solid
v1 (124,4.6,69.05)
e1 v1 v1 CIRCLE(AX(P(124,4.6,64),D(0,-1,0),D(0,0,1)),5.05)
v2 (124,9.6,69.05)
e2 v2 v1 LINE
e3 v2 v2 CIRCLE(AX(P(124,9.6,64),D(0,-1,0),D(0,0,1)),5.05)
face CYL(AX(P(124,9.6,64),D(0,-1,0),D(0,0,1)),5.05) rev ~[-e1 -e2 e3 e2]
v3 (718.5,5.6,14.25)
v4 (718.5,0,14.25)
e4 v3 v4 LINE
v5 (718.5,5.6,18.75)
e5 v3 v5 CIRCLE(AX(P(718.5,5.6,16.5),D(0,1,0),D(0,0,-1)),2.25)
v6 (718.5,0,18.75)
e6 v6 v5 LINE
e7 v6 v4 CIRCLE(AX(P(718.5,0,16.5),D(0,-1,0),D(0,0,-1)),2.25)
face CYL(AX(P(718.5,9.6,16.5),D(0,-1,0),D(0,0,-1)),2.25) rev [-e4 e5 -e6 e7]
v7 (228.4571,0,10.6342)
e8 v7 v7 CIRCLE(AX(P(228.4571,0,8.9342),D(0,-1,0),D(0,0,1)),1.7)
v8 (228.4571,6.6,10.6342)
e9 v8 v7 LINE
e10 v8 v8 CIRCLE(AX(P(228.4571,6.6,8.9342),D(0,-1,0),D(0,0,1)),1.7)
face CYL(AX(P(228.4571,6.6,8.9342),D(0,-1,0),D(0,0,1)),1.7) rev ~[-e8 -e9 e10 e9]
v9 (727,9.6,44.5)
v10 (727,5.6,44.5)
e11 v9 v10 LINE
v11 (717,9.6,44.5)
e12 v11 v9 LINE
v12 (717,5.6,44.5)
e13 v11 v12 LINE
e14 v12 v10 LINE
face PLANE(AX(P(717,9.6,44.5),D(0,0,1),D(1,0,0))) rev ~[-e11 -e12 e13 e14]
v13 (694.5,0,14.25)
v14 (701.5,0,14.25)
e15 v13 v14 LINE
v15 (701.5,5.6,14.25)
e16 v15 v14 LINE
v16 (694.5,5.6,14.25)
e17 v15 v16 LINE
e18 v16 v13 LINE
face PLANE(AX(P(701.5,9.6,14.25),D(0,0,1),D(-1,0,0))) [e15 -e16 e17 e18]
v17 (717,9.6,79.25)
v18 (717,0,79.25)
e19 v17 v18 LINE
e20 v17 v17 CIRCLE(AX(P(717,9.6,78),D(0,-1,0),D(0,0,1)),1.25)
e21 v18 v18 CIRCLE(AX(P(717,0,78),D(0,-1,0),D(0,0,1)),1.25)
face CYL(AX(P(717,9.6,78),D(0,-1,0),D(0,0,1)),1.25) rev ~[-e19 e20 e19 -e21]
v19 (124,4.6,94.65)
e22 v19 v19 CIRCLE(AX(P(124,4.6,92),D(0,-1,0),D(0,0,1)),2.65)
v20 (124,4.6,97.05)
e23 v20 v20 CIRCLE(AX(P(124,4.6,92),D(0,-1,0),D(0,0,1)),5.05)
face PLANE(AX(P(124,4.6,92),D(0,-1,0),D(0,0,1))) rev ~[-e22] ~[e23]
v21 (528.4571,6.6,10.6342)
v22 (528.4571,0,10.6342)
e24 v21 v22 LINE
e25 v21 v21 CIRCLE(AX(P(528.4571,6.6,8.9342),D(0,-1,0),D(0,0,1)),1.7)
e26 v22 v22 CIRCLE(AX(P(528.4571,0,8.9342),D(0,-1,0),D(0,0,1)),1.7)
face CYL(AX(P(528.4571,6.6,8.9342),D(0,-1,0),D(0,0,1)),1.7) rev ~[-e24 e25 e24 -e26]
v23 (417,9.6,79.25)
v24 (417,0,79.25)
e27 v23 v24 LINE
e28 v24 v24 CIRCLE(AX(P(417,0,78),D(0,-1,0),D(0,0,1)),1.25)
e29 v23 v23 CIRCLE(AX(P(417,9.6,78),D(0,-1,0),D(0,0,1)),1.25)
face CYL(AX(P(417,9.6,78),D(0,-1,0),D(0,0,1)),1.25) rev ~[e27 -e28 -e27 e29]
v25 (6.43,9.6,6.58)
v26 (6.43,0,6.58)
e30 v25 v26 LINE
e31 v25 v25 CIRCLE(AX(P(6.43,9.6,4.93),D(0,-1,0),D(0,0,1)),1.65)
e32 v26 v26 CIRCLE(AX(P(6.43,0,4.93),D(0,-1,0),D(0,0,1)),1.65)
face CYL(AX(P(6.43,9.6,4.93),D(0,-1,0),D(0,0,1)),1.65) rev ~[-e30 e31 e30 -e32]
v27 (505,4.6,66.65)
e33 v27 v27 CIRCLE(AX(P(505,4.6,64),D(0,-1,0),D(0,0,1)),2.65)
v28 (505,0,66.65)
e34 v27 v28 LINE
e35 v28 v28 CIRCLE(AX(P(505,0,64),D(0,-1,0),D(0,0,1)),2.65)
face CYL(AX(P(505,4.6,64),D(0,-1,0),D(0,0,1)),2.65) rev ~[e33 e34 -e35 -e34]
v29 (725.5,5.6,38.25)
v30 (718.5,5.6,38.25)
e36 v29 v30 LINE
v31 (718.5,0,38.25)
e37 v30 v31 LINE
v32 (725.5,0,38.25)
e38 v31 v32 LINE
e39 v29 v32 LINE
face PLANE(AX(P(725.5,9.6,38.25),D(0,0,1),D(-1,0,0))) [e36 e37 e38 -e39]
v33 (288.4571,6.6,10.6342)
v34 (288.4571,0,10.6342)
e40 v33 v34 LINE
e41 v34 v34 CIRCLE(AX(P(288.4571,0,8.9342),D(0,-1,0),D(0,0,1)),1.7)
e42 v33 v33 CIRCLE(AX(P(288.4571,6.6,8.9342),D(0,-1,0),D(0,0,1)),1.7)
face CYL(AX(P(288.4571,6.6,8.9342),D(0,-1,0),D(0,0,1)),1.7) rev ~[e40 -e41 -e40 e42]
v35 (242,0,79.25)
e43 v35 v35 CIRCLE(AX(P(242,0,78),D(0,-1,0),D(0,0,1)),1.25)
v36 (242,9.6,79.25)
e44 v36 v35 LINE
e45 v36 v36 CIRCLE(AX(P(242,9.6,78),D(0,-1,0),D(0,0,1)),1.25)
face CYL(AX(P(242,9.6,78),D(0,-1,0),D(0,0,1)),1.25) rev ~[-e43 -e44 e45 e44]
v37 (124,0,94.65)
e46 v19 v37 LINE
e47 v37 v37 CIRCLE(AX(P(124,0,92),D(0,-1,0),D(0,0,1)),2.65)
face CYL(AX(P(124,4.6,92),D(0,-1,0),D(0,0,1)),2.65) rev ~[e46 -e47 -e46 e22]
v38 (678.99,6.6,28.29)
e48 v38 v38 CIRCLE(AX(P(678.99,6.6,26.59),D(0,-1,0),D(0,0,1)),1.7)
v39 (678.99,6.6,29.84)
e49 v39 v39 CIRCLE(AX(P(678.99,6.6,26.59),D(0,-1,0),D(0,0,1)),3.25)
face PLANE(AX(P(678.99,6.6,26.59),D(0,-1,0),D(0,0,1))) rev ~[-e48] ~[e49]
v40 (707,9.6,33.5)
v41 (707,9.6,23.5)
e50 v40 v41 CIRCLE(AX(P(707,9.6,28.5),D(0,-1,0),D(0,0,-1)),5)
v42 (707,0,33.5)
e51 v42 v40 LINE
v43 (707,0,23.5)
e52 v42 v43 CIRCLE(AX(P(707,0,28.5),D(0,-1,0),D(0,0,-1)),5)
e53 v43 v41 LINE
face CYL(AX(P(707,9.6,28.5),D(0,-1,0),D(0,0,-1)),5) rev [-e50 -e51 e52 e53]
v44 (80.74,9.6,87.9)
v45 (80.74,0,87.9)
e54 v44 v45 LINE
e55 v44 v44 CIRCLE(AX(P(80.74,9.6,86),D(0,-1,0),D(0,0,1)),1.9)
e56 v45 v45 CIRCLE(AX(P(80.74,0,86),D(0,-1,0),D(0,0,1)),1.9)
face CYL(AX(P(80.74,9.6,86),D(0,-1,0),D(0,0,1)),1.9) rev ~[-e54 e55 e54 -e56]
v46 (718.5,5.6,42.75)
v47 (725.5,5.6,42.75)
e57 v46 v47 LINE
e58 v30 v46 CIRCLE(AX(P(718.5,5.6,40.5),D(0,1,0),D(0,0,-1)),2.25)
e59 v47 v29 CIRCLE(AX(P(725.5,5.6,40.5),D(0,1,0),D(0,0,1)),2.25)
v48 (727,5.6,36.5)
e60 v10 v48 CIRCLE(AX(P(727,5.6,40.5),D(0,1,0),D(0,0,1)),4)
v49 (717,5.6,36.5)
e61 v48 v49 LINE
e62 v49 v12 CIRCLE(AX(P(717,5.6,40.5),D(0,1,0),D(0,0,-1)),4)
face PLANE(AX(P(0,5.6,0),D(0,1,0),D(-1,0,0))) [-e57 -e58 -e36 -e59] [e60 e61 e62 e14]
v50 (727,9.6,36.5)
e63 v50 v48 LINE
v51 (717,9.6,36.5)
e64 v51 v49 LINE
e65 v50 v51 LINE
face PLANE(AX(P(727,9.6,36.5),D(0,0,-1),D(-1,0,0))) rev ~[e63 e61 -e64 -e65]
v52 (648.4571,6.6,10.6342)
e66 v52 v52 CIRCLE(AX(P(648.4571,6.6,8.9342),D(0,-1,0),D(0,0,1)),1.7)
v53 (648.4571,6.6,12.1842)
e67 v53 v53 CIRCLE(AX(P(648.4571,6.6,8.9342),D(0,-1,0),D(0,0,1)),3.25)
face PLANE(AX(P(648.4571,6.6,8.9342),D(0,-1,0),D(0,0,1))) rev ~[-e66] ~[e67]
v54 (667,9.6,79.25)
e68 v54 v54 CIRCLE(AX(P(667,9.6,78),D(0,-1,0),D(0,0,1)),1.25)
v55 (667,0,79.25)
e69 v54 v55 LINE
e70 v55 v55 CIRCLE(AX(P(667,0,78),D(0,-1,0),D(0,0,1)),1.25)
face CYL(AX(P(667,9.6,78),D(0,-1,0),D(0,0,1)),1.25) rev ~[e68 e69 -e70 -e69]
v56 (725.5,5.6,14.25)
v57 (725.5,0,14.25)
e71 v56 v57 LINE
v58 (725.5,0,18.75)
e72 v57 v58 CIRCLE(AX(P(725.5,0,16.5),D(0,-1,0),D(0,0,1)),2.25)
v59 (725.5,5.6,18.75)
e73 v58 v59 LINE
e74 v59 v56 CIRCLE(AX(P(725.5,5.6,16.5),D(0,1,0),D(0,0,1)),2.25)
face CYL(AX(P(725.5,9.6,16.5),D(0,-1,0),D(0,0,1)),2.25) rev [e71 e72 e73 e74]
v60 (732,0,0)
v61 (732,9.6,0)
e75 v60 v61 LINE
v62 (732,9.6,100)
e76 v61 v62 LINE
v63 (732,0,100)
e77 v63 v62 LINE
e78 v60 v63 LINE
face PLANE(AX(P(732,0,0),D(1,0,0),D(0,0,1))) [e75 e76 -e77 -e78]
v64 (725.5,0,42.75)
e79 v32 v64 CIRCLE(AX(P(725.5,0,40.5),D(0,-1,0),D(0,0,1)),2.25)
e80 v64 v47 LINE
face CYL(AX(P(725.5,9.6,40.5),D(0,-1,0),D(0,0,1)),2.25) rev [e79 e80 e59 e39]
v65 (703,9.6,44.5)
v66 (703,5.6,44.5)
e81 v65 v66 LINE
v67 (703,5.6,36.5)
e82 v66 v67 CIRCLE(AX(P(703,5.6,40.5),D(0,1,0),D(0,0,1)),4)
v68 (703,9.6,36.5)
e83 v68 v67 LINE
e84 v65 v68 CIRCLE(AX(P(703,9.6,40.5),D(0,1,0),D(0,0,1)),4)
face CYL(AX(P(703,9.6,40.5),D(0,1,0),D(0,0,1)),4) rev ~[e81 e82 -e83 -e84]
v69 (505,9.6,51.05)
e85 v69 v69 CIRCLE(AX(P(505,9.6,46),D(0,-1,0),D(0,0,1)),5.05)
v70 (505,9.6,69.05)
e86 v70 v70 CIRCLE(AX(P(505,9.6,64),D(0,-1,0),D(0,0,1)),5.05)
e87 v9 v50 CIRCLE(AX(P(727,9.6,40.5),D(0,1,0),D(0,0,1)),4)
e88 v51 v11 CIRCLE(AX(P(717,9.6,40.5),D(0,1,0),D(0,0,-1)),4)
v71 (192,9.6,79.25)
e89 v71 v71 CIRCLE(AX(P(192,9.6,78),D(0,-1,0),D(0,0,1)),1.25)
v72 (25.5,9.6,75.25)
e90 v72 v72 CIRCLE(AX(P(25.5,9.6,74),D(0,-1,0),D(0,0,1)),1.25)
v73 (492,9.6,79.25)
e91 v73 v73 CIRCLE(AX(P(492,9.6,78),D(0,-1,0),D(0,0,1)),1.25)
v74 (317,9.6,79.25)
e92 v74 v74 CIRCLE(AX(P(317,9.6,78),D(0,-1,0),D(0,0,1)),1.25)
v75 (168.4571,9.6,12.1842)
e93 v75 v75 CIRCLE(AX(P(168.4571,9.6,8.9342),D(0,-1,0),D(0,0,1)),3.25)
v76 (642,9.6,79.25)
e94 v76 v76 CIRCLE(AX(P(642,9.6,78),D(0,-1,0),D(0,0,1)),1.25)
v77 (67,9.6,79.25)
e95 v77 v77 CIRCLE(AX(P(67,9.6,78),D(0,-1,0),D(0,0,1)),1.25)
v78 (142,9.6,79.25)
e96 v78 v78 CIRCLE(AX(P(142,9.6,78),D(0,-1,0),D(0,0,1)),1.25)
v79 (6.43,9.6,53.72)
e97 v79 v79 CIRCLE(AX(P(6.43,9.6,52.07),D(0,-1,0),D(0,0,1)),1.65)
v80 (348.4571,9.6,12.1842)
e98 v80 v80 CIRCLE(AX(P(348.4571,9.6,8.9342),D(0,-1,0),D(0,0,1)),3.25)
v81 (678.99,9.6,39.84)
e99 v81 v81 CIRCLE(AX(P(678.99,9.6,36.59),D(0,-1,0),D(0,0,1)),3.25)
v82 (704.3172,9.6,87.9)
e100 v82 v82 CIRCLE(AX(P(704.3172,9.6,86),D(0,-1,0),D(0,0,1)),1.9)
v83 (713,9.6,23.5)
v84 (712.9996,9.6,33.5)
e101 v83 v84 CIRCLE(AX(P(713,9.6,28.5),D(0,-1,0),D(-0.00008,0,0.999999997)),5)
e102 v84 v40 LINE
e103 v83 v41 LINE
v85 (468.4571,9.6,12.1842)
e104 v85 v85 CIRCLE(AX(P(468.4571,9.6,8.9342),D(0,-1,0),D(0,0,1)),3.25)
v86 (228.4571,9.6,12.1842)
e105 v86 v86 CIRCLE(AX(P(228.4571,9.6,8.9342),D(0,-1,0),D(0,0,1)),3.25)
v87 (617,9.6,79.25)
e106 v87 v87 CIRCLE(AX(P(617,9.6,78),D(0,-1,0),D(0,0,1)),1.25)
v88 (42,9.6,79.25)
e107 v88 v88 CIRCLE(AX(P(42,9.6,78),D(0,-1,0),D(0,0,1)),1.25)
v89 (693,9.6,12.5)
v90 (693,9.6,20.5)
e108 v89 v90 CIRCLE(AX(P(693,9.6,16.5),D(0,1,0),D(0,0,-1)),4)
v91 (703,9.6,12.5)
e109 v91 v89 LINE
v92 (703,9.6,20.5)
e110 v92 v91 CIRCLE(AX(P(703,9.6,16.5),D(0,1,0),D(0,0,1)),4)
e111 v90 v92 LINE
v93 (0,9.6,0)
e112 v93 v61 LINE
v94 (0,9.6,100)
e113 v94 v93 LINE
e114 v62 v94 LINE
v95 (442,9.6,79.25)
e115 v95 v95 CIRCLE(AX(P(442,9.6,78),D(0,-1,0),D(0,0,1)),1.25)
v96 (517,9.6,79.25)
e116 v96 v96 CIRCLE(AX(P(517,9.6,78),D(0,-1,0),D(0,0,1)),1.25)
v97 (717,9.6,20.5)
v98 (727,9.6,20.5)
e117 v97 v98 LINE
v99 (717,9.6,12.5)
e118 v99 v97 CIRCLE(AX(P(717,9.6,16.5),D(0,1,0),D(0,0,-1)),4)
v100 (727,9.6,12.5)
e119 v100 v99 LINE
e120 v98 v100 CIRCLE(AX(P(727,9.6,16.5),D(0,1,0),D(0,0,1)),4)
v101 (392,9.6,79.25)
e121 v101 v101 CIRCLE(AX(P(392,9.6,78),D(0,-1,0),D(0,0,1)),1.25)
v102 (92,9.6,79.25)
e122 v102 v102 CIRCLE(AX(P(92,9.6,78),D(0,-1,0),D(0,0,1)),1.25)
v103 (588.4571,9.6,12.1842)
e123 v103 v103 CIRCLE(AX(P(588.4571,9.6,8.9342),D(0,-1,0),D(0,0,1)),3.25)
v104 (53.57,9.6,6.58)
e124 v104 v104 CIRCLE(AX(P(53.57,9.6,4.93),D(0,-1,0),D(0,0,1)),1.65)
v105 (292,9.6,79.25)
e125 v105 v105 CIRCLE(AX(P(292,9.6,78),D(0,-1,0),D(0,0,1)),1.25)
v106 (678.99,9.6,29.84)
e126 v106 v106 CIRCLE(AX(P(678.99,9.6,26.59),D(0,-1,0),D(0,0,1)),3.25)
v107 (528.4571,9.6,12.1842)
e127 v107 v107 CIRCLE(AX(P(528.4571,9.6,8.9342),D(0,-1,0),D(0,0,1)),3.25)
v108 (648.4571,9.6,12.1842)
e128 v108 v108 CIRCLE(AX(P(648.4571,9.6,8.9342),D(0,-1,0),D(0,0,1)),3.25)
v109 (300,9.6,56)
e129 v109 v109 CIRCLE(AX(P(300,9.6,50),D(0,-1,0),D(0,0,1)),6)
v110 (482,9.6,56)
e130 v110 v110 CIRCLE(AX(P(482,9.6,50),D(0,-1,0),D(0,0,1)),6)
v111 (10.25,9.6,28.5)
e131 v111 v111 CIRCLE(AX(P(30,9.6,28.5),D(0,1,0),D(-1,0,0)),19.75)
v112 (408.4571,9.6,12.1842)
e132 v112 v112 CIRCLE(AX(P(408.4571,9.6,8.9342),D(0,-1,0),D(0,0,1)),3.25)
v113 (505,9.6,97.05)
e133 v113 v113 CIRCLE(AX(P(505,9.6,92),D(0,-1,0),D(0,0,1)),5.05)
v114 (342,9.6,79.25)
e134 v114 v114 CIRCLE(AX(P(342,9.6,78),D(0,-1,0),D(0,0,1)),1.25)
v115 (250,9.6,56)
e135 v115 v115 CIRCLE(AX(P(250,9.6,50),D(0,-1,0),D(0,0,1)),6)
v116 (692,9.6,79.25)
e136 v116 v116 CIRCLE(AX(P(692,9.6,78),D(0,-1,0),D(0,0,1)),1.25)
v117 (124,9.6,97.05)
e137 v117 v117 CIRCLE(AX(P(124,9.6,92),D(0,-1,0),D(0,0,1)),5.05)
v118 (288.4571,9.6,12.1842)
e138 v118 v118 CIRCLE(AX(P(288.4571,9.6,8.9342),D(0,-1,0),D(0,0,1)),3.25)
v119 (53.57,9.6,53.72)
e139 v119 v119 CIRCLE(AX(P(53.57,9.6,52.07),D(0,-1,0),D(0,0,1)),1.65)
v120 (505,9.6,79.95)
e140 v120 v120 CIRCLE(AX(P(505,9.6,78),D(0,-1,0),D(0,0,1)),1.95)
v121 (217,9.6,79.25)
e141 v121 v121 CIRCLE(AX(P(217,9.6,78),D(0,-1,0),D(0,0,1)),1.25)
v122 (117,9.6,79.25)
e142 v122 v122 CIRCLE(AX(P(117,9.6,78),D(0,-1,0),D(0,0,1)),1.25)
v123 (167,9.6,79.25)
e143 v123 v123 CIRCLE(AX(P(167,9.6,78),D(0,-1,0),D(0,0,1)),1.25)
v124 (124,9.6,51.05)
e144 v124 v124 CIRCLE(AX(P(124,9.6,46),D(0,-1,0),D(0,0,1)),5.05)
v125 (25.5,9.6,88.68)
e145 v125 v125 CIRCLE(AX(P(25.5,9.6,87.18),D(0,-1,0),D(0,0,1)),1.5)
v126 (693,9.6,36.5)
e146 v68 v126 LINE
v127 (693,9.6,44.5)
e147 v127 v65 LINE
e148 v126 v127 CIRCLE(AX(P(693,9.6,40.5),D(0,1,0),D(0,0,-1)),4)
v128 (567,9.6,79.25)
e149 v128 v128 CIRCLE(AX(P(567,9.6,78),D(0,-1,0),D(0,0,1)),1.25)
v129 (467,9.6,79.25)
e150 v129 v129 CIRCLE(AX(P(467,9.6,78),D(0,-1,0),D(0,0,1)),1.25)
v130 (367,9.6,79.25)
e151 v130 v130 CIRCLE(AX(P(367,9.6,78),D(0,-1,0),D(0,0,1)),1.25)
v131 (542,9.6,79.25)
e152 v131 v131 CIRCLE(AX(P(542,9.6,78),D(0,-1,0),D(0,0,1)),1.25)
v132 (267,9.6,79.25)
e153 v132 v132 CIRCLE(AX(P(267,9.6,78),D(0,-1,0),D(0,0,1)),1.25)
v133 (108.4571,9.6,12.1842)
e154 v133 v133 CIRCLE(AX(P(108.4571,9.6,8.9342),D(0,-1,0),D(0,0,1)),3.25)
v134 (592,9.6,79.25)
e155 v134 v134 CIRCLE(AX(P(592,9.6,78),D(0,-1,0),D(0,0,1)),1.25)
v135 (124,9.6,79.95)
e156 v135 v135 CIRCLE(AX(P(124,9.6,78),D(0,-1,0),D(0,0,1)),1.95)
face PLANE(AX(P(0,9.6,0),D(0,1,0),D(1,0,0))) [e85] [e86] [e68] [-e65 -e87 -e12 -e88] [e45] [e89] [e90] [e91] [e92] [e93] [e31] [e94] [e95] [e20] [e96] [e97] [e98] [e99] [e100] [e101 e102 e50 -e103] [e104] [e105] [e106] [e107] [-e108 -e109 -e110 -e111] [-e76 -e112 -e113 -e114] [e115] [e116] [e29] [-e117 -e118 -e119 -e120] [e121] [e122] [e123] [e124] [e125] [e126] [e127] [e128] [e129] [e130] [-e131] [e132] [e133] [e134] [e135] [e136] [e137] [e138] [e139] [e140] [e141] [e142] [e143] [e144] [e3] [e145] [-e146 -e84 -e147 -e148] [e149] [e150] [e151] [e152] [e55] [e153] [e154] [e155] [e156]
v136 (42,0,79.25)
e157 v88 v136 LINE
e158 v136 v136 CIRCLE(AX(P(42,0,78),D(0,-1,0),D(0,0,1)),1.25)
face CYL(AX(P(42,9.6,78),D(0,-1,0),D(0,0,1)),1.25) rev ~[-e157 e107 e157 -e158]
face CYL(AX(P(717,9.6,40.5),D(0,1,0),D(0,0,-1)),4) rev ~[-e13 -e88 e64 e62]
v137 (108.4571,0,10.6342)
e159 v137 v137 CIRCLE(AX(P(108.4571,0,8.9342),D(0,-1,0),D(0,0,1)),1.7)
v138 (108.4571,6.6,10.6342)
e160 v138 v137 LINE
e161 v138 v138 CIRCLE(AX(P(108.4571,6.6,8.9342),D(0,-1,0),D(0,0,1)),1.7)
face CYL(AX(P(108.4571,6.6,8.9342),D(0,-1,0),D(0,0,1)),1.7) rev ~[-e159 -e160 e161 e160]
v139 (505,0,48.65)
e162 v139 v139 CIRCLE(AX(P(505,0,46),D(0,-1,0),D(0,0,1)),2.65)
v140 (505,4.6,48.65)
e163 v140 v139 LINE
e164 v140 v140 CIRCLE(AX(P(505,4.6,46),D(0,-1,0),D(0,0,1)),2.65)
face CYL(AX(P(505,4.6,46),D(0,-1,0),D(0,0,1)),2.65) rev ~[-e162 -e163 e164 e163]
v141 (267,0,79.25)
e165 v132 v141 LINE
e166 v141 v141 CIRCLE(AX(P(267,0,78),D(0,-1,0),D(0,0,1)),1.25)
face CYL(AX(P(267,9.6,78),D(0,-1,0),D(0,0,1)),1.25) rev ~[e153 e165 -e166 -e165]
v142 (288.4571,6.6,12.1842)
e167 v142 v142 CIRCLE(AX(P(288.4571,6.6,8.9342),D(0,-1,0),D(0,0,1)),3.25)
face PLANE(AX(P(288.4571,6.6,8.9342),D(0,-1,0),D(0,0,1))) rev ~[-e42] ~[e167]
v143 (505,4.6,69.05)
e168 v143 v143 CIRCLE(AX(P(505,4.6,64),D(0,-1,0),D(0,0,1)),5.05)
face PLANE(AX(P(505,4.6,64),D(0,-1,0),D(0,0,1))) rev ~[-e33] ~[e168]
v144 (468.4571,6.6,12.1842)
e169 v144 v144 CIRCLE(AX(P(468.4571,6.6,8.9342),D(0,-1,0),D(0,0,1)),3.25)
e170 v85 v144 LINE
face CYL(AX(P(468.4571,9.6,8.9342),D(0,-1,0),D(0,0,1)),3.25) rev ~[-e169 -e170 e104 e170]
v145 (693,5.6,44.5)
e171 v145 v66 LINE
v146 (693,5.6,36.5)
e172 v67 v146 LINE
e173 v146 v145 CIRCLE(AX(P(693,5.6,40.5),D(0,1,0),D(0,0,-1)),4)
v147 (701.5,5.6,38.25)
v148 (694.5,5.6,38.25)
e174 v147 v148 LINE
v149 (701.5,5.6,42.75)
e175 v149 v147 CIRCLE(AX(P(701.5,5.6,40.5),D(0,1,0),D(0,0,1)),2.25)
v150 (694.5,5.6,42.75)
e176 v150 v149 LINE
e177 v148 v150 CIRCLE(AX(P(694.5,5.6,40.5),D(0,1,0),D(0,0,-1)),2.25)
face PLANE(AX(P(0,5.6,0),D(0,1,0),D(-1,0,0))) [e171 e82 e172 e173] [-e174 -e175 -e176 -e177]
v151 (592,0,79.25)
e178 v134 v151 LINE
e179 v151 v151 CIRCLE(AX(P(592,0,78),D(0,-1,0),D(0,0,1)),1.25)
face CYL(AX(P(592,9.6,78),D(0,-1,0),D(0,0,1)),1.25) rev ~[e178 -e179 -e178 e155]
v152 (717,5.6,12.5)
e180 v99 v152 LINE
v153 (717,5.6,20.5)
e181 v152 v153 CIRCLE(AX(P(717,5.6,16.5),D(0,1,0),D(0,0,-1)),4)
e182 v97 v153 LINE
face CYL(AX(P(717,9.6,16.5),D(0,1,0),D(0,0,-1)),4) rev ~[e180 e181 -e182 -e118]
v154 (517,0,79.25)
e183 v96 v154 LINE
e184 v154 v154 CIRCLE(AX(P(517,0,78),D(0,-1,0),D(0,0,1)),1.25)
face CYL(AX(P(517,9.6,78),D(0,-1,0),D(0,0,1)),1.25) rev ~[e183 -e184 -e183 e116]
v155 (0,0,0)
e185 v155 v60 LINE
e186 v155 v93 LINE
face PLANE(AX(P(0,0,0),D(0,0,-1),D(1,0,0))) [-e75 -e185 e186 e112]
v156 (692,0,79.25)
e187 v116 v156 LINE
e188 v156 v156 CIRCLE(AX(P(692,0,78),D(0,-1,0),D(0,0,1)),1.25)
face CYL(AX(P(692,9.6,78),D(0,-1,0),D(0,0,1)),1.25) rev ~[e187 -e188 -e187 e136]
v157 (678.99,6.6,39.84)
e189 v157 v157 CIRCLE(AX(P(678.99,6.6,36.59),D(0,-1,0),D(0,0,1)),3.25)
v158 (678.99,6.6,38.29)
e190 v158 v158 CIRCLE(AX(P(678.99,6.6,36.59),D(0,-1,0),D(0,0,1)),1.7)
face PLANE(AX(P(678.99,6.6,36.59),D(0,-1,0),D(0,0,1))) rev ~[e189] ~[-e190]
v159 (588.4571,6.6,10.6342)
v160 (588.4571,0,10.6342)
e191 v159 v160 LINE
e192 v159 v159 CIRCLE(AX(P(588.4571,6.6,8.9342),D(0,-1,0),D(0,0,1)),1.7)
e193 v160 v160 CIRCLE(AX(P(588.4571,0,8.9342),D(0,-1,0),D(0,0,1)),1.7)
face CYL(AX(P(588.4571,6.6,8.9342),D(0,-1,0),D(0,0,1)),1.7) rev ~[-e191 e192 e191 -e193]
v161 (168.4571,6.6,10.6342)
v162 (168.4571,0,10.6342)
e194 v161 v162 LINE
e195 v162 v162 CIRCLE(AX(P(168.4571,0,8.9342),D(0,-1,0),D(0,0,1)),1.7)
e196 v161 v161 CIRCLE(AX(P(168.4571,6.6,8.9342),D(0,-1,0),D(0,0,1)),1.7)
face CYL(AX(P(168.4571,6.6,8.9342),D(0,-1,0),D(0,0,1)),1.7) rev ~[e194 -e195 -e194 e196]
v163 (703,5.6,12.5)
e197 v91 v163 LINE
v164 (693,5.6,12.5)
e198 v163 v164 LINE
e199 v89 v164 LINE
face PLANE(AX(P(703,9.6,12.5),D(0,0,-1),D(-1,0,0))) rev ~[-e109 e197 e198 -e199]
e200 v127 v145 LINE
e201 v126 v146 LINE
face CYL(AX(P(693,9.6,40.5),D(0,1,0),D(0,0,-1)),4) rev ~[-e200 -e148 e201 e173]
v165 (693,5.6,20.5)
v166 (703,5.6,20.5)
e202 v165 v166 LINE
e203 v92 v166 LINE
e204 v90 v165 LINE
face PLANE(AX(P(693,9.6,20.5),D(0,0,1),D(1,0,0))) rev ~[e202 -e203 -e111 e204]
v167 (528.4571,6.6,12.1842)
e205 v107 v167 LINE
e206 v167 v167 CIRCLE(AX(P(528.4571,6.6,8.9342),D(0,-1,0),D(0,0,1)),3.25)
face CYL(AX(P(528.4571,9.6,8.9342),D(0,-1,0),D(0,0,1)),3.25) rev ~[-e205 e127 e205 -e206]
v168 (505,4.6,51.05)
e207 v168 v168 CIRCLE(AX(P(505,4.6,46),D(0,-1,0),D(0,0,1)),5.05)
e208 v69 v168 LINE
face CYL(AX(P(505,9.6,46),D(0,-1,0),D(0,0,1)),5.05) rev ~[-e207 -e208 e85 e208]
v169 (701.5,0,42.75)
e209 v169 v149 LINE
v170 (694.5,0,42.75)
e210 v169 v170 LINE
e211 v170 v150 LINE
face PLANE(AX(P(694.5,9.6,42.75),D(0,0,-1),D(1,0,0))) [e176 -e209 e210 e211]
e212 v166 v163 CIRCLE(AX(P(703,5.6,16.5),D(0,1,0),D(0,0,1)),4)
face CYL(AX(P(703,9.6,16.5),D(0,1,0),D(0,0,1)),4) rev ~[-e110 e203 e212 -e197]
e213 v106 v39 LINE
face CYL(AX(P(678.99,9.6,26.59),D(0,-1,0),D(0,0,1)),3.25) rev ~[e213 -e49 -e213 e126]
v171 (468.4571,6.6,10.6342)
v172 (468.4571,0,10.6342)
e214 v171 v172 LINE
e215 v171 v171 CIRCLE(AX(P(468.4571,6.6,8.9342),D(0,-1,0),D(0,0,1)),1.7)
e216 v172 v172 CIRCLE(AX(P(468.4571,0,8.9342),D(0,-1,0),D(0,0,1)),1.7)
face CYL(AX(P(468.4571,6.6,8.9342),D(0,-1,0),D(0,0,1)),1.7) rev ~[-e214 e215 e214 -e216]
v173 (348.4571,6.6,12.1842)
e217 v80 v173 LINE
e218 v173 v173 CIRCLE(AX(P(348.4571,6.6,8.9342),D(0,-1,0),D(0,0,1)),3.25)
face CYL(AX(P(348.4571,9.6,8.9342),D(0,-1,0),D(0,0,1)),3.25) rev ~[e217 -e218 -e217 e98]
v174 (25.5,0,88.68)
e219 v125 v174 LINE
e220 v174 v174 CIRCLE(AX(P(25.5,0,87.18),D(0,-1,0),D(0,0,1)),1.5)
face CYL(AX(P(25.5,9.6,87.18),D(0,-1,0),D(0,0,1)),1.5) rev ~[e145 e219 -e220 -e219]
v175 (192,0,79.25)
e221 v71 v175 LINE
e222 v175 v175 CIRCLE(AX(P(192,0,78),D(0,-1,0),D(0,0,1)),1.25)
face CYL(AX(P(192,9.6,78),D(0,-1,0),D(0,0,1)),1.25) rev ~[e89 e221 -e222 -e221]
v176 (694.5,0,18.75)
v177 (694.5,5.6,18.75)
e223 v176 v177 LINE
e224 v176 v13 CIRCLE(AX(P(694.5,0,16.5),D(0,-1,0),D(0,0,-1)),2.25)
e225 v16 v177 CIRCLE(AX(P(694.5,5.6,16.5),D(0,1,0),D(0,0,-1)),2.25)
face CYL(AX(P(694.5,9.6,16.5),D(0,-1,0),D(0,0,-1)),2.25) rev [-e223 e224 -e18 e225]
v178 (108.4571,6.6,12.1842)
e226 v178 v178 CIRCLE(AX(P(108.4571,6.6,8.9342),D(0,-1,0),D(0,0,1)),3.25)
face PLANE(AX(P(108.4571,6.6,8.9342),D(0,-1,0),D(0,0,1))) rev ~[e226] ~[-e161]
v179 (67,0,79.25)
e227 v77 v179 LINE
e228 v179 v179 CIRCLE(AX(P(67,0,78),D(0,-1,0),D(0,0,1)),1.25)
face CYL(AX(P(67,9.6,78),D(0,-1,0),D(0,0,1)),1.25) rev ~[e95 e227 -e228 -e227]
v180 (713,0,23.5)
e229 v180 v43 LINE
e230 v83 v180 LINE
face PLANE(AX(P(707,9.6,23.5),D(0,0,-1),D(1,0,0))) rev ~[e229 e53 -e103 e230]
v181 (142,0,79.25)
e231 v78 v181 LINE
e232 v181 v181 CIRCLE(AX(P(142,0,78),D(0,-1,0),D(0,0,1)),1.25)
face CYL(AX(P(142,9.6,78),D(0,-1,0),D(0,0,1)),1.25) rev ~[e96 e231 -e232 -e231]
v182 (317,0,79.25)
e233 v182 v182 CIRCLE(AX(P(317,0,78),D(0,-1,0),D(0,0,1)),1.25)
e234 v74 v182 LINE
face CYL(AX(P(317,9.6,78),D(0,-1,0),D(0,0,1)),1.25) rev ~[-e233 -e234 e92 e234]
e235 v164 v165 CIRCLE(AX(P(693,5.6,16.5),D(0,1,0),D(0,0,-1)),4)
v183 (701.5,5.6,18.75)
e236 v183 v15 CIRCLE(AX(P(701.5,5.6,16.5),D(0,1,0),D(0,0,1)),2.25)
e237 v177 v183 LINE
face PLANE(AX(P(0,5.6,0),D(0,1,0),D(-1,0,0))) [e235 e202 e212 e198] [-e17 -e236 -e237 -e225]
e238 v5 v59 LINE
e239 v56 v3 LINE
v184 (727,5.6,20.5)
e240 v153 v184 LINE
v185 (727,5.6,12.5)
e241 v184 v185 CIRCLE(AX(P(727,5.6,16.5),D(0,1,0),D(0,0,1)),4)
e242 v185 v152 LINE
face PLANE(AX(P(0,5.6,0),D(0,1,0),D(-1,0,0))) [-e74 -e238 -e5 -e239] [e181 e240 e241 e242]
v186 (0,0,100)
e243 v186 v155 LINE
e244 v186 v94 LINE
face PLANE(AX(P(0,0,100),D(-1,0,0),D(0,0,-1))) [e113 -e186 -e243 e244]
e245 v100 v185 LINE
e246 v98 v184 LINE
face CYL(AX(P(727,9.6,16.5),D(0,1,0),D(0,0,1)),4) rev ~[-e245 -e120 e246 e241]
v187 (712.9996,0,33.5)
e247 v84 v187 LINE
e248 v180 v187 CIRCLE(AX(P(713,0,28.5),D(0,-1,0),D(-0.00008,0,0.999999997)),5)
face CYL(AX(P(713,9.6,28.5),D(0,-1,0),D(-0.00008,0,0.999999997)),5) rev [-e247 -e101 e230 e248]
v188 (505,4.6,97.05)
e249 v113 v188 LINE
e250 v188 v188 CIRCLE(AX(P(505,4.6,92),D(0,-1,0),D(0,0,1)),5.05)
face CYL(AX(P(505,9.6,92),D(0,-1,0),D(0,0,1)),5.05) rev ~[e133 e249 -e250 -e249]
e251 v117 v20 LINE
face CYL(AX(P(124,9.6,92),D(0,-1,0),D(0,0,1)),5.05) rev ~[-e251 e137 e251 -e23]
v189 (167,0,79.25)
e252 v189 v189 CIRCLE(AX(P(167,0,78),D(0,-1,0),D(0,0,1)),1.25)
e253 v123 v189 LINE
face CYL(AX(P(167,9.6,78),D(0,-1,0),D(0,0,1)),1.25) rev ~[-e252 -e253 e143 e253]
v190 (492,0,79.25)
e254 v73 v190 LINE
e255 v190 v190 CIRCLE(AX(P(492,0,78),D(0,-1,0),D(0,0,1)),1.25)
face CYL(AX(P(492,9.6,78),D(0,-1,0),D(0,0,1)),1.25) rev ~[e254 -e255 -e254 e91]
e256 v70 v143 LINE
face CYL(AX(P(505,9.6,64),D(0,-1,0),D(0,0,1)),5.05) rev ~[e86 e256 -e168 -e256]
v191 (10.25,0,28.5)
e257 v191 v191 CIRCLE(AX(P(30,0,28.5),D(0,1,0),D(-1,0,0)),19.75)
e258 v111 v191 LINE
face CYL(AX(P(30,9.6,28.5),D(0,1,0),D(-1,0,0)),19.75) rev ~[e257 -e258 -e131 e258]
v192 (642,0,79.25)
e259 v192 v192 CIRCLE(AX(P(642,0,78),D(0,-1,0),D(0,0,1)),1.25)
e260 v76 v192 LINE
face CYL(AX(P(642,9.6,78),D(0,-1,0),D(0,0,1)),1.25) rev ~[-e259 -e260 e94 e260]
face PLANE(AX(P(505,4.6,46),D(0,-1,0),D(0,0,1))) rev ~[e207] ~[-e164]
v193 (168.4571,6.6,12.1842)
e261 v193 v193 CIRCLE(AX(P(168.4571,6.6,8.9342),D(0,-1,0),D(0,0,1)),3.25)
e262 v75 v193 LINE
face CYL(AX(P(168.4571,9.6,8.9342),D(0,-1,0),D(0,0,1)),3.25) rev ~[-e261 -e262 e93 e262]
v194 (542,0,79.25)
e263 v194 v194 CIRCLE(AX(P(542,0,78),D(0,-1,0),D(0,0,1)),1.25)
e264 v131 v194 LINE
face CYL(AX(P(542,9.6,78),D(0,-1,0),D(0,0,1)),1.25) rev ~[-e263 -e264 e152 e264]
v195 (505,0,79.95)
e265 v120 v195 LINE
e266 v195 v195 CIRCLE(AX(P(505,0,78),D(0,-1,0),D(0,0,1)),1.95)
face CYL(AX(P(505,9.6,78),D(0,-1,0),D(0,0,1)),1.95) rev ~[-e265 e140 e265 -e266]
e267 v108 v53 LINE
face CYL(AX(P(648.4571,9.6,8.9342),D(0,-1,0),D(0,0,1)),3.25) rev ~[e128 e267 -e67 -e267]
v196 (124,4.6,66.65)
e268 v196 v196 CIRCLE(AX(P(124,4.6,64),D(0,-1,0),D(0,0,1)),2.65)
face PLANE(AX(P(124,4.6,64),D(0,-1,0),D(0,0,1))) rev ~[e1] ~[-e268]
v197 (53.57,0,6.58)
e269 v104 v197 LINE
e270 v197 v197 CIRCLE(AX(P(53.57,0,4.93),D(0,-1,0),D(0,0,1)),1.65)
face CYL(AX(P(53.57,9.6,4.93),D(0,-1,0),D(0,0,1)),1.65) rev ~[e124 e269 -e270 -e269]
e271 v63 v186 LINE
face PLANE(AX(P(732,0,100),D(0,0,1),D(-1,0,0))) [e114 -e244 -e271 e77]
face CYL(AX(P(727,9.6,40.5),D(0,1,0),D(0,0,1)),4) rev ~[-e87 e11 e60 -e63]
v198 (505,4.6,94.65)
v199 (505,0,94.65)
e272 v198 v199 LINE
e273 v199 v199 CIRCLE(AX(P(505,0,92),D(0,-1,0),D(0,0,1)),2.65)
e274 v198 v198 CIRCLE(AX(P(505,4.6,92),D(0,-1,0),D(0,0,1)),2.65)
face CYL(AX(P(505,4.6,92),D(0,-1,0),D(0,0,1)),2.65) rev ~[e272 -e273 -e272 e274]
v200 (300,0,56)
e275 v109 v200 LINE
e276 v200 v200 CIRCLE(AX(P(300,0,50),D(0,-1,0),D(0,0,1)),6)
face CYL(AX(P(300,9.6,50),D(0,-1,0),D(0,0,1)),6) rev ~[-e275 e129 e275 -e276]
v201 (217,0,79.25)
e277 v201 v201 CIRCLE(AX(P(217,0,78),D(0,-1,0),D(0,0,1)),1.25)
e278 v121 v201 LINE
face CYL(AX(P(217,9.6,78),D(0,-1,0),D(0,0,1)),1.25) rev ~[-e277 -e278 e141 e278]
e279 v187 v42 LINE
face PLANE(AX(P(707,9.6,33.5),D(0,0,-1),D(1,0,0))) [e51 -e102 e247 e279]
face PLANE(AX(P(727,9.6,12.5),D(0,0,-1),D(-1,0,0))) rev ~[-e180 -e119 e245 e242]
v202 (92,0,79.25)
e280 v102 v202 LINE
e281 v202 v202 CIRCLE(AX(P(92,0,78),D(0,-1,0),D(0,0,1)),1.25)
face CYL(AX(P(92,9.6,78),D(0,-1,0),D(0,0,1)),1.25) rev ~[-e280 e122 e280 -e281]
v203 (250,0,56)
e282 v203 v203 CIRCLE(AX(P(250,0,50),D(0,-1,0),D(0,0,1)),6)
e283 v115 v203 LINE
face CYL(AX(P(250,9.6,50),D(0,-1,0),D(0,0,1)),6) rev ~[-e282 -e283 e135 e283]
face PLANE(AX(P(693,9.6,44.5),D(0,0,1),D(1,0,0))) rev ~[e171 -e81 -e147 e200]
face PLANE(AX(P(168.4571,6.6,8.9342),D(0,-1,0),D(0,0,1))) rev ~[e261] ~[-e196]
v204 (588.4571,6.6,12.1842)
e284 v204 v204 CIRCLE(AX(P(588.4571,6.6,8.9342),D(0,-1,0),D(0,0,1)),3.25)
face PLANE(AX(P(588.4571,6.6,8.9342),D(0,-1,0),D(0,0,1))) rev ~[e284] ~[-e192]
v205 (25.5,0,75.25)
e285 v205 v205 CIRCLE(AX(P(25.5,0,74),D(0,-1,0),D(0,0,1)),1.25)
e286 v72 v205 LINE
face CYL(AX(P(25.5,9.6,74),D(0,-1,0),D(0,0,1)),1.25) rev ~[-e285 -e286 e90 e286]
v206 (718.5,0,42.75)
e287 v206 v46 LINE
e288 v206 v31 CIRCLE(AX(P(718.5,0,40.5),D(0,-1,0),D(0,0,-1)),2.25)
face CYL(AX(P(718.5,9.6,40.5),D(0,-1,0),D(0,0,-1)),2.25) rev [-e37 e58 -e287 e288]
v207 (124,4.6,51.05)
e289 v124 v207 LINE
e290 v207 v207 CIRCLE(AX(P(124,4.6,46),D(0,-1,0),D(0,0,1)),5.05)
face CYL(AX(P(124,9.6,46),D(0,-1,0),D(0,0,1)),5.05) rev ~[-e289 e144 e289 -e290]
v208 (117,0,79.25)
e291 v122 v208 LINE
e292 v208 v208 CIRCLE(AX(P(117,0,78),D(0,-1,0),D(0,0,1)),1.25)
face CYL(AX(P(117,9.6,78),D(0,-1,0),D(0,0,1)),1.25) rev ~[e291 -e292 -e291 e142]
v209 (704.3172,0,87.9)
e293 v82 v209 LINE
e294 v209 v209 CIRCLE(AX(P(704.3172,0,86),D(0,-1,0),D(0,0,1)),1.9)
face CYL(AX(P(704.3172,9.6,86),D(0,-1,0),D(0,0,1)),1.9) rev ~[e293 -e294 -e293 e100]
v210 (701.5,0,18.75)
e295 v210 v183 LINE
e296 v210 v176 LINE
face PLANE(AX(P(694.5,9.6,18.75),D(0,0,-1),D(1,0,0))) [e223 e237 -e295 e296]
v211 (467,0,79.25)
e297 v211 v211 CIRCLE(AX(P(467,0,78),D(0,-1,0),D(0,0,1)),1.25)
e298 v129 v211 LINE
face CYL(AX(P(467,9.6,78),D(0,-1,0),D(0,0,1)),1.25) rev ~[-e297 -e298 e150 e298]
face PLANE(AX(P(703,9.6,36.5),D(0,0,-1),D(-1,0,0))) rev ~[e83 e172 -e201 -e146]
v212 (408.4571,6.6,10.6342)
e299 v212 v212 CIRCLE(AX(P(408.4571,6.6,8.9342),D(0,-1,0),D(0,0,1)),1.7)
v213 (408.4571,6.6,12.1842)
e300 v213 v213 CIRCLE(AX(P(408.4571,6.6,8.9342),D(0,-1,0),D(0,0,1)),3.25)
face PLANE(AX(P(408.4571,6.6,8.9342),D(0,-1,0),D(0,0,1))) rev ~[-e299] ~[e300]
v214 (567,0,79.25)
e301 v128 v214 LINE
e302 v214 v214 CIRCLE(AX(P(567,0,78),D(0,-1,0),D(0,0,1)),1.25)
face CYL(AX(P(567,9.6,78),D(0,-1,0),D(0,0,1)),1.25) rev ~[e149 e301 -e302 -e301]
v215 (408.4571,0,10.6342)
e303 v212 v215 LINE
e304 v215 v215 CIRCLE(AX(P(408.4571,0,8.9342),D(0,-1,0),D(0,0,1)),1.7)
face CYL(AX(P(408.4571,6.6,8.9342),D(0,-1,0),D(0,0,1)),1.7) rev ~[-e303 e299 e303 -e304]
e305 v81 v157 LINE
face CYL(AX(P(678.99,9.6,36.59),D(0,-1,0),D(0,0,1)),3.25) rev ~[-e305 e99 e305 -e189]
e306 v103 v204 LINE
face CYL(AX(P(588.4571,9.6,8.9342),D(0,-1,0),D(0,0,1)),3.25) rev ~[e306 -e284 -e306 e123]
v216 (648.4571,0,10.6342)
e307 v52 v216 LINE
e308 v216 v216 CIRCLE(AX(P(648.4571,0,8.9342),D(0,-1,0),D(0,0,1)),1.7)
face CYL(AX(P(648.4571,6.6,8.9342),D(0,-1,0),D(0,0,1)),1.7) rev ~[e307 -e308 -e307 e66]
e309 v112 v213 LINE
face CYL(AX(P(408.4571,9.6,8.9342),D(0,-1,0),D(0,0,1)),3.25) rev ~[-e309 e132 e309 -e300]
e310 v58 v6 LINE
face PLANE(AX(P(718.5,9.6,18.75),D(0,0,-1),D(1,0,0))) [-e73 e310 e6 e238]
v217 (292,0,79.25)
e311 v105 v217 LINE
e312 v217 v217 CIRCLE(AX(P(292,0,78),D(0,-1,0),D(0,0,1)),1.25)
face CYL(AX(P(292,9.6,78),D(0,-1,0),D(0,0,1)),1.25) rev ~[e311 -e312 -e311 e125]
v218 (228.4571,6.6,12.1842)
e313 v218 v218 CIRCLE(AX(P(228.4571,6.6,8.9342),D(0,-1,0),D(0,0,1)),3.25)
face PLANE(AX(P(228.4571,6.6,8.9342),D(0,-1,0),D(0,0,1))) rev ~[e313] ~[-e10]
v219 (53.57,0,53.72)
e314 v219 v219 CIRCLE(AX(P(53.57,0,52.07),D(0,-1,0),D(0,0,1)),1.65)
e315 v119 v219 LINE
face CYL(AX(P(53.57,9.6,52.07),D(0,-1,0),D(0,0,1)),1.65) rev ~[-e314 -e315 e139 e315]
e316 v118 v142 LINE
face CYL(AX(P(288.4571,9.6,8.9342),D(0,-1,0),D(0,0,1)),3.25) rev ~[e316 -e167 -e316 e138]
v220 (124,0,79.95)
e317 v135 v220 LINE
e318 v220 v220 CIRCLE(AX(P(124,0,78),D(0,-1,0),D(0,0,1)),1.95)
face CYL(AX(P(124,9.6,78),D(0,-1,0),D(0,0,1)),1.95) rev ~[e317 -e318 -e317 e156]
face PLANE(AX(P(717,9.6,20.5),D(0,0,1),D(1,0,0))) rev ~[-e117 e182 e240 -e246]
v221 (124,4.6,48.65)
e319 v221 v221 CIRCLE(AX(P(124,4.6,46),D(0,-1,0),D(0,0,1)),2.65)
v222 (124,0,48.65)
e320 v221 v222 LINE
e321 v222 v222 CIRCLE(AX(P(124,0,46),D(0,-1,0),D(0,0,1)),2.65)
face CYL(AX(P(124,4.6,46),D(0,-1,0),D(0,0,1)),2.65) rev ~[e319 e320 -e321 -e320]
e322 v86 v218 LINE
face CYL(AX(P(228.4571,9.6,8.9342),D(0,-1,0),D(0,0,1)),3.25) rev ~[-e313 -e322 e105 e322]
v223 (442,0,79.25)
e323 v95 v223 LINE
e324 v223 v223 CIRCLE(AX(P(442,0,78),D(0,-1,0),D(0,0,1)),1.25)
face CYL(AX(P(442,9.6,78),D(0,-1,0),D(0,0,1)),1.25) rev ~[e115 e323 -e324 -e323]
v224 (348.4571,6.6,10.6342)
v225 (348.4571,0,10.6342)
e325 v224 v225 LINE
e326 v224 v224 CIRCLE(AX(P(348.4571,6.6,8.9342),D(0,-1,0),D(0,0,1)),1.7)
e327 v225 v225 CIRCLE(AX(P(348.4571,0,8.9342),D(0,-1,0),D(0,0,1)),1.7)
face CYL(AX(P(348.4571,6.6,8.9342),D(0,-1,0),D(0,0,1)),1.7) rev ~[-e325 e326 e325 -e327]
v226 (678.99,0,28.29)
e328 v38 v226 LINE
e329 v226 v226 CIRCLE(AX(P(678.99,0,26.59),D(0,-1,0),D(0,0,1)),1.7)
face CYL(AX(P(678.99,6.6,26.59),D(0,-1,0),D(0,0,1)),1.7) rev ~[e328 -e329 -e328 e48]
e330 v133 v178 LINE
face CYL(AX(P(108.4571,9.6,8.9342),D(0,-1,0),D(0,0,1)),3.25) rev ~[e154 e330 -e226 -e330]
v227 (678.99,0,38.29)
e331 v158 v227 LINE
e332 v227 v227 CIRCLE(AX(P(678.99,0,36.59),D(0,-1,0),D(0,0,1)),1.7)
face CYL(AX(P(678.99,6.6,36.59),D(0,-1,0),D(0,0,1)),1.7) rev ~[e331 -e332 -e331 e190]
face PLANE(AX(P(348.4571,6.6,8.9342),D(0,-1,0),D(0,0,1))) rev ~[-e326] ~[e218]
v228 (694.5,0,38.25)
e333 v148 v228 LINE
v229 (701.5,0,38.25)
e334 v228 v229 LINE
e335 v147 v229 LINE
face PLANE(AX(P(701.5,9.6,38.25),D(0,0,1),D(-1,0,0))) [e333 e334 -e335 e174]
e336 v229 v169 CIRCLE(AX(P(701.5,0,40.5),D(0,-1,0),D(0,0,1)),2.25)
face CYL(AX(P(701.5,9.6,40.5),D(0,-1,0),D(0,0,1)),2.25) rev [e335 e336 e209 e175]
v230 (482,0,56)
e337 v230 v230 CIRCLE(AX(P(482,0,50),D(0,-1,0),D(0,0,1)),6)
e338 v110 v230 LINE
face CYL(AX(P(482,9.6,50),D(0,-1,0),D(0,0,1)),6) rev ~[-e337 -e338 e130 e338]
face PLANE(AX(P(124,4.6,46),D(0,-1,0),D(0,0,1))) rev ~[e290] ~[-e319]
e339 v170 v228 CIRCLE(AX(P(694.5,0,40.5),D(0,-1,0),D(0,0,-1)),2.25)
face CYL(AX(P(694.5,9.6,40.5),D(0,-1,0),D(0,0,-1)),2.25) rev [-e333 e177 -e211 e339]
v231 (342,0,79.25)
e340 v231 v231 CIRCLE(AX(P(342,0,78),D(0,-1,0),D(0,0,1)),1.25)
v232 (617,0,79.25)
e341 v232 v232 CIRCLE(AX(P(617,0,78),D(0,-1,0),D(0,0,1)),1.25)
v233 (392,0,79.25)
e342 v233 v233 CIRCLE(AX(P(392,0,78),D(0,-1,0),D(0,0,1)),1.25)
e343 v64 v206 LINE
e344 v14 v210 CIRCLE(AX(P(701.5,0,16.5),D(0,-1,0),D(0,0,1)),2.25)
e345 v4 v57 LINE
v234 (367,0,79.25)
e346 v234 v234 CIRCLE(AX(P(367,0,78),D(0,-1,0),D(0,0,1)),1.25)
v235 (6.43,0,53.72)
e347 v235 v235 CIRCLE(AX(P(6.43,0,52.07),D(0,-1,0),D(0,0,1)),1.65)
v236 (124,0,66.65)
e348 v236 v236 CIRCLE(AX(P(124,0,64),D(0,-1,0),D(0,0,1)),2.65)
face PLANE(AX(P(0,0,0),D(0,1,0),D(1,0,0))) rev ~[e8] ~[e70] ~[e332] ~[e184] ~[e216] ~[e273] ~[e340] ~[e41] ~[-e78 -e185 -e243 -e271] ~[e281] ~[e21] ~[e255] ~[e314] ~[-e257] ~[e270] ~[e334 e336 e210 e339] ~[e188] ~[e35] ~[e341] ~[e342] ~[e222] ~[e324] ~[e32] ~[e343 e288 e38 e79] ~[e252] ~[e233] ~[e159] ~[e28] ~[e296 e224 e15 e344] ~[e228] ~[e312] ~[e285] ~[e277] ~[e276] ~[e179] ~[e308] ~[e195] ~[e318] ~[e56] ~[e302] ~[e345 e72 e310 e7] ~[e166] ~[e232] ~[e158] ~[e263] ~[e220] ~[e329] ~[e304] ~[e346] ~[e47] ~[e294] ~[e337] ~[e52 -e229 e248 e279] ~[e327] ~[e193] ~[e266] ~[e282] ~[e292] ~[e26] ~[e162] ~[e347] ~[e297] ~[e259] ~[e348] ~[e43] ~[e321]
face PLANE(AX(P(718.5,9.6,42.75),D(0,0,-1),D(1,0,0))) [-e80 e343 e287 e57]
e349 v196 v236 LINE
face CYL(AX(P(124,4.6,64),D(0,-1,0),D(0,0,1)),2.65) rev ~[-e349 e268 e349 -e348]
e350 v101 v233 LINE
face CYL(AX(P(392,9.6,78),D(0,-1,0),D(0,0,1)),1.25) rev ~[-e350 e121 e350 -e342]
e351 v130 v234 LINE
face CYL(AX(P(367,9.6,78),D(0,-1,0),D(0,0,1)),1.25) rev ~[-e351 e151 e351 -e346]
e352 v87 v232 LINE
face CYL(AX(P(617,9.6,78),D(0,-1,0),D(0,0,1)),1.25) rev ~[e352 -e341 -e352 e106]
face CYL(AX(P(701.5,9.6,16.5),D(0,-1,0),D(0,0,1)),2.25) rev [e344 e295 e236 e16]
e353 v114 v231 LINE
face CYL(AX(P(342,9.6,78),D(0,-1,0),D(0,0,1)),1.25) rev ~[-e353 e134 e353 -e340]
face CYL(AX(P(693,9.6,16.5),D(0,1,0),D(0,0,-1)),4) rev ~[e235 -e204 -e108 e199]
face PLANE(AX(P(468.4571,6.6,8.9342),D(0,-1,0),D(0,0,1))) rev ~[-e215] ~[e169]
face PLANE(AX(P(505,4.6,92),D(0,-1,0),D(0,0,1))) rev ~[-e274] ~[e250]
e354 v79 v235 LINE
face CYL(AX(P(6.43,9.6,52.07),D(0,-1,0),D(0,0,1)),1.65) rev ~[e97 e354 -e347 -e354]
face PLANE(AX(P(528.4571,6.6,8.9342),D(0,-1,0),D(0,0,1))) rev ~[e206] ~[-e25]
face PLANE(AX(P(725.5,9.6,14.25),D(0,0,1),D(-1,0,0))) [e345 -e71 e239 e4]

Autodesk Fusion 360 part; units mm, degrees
sketch "Sketch1" plane through (0, 0, 0) normal (0, 1, 0) x (1, 0, 0)
  line L0 (0, 0) -> (732, 0)
  line L1 (732, 0) -> (732, -100)
  line L2 (732, -100) -> (0, -100)
  line L3 (0, -100) -> (0, 0)
  dimension "d1" = 732
  dimension "d2" = 100
extrude "Extrude1" add sketch "Sketch1" along normal blind 9.6
sketch "Sketch2" plane through (0, 9.6, 0) normal (0, 1, 0) x (-1, 0, 0)
  line L0 (0, 100) -> (-732, 100)
  line L1 (-732, 100) -> (-732, 0)
  line L2 (-732, 0) -> (0, 0)
  line L3 (0, 0) -> (0, 100)
  line L4 (0, 28.5) -> (-732, 28.5) construction
  line L5 (-707, 23.5) -> (-713, 23.5)
  line L6 (-707, 33.5) -> (-712.9996, 33.5)
  arc A0 (-707, 23.5) -> (-707, 33.5) centre (-707, 28.5) ccw
  arc A1 (-712.9996, 33.5) -> (-713, 23.5) centre (-713, 28.5) ccw
  line L7 (0, 16.5) -> (-732, 16.5) construction
  line L8 (-693, 20.5) -> (-703, 20.5)
  arc A2 (-703, 20.5) -> (-703, 12.5) centre (-703, 16.5) ccw
  line L9 (-703, 12.5) -> (-693, 12.5)
  arc A3 (-693, 12.5) -> (-693, 20.5) centre (-693, 16.5) ccw
  line L10 (-693, 16.5) -> (-703, 16.5) construction
  line L11 (-717, 20.5) -> (-727, 20.5)
  arc A4 (-727, 20.5) -> (-727, 12.5) centre (-727, 16.5) ccw
  line L12 (-727, 12.5) -> (-717, 12.5)
  arc A5 (-717, 12.5) -> (-717, 20.5) centre (-717, 16.5) ccw
  line L13 (-717, 16.5) -> (-727, 16.5) construction
  line L14 (-694.5, 18.75) -> (-701.5, 18.75)
  arc A6 (-701.5, 18.75) -> (-701.5, 14.25) centre (-701.5, 16.5) ccw
  line L15 (-701.5, 14.25) -> (-694.5, 14.25)
  arc A7 (-694.5, 14.25) -> (-694.5, 18.75) centre (-694.5, 16.5) ccw
  line L16 (-694.5, 16.5) -> (-701.5, 16.5) construction
  line L17 (-718.5, 18.75) -> (-725.5, 18.75)
  arc A8 (-725.5, 18.75) -> (-725.5, 14.25) centre (-725.5, 16.5) ccw
  line L18 (-725.5, 14.25) -> (-718.5, 14.25)
  arc A9 (-718.5, 14.25) -> (-718.5, 18.75) centre (-718.5, 16.5) ccw
  line L19 (-718.5, 16.5) -> (-725.5, 16.5) construction
  line L20 (-693, 16.5) -> (-693, 44) construction
  line L21 (-694.5, 16.5) -> (-694.5, 18.75) construction
  line L22 (-703, 16.5) -> (-703, 44) construction
  line L23 (-694.5, 16.5) -> (-694.5, 44) construction
  line L24 (-701.5, 16.5) -> (-701.5, 44) construction
  line L25 (-717, 16.5) -> (-717, 44) construction
  line L26 (-718.5, 16.5) -> (-718.5, 44) construction
  line L27 (-725.5, 16.5) -> (-725.5, 44) construction
  line L28 (-727, 16.5) -> (-727, 44) construction
  line L29 (-689, 40.5) -> (-732, 40.5) construction
  line L30 (-694.5, 42.75) -> (-701.5, 42.75)
  arc A10 (-701.5, 42.75) -> (-701.5, 38.25) centre (-701.5, 40.5) ccw
  line L31 (-701.5, 38.25) -> (-694.5, 38.25)
  arc A11 (-694.5, 38.25) -> (-694.5, 42.75) centre (-694.5, 40.5) ccw
  line L32 (-694.5, 40.5) -> (-701.5, 40.5) construction
  line L33 (-693, 44.5) -> (-703, 44.5)
  arc A12 (-703, 44.5) -> (-703, 36.5) centre (-703, 40.5) ccw
  line L34 (-703, 36.5) -> (-693, 36.5)
  arc A13 (-693, 36.5) -> (-693, 44.5) centre (-693, 40.5) ccw
  line L35 (-693, 40.5) -> (-703, 40.5) construction
  line L36 (-718.5, 42.75) -> (-725.5, 42.75)
  arc A14 (-725.5, 42.75) -> (-725.5, 38.25) centre (-725.5, 40.5) ccw
  line L37 (-725.5, 38.25) -> (-718.5, 38.25)
  arc A15 (-718.5, 38.25) -> (-718.5, 42.75) centre (-718.5, 40.5) ccw
  line L38 (-718.5, 40.5) -> (-725.5, 40.5) construction
  line L39 (-717, 44.5) -> (-727, 44.5)
  arc A16 (-727, 44.5) -> (-727, 36.5) centre (-727, 40.5) ccw
  line L40 (-727, 36.5) -> (-717, 36.5)
  arc A17 (-717, 36.5) -> (-717, 44.5) centre (-717, 40.5) ccw
  line L41 (-717, 40.5) -> (-727, 40.5) construction
  line L42 (0, 8.9342) -> (-760, 8.9342) construction
  line L43 (0, 78) -> (-732, 78) construction
  line L44 (-124, 46) -> (-124, 92) construction
  line L45 (-505, 46) -> (-505, 92) construction
  line L46 (0, 86) -> (-732, 86) construction
  line L47 (-30, 0) -> (-30, 60) construction
  line L48 (-53.57, 4.93) -> (-6.43, 4.93) construction
  line L49 (-6.43, 4.93) -> (-6.43, 52.07) construction
  line L50 (-6.43, 52.07) -> (-53.57, 52.07) construction
  line L51 (-53.57, 52.07) -> (-53.57, 4.93) construction
  line L52 (-53.57, 4.93) -> (-6.43, 52.07) construction
  line L53 (-6.43, 4.93) -> (-53.57, 52.07) construction
  circle A18 centre (-30, 28.5) radius 19.75
  line L54 (-250, 0) -> (-250, 100) construction
  line L55 (-482, 0) -> (-482, 100) construction
  line L56 (-250, 50) -> (-482, 50) construction
  line L57 (-300, 0) -> (-300, 100) construction
  point P0 (-713, 28.5)
  point P1 (-707, 28.5)
  point P2 (-693, 16.5)
  point P3 (-703, 16.5)
  point P4 (-693, 16.5)
  point P5 (-717, 16.5)
  point P6 (-727, 16.5)
  point P7 (-694.5, 16.5)
  point P8 (-701.5, 16.5)
  point P9 (-718.5, 16.5)
  point P10 (-725.5, 16.5)
  point P11 (-693, 40.5)
  point P12 (-694.5, 40.5)
  point P13 (-701.5, 40.5)
  point P14 (-703, 40.5)
  point P15 (-717, 40.5)
  point P16 (-718.5, 40.5)
  point P17 (-725.5, 40.5)
  point P18 (-727, 40.5)
  point P19 (-678.99, 26.59)
  point P20 (-678.99, 36.59)
  point P21 (-124, 46)
  point P22 (-124, 64)
  point P23 (-124, 92)
  point P24 (-505, 46)
  point P25 (-505, 64)
  point P26 (-505, 92)
  point P27 (-108.4571, 8.9342)
  point P28 (-25.5, 74)
  point P29 (-25.5, 87.18)
  point P30 (-717, 78)
  point P31 (-505, 78)
  point P32 (-124, 78)
  point P33 (-80.74, 86)
  point P34 (-30, 28.5)
  point P35 (-53.57, 4.93)
  point P36 (-6.43, 4.93)
  point P37 (-6.43, 52.07)
  point P38 (-53.57, 52.07)
  point P39 (-250, 50)
  point P40 (-482, 50)
  point P41 (-300, 50)
  dimension "d5" = 28.5
  dimension "d6" = 19
  dimension "d7" = 6
  dimension "d8" = 10
  dimension "d9" = 10
  dimension "d11" = 16.5
  dimension "d12" = 10
  dimension "d13" = 29
  dimension "d19" = 8
  dimension "d20" = 10
  dimension "d21" = 5
  dimension "d22" = 8
  dimension "d23" = 7
  dimension "d24" = 7
  dimension "d25" = 30.5
  dimension "d26" = 4.5
  dimension "d27" = 6.5
  dimension "d28" = 4.5
  dimension "d29" = 40.5
  dimension "d30" = 4.5
  dimension "d31" = 8
  dimension "d32" = 4.5
  dimension "d33" = 8
  dimension "d37" = 10
  dimension "d38" = 53.01
  dimension "d39" = 26.59
  dimension "d50" = 381
  dimension "d51" = 28
  dimension "d52" = 18
  dimension "d53" = 8
  dimension "d54" = 124
  dimension "d74" = 8.9342
  dimension "d75" = 108.4571
  dimension "d85" = 13.18
  dimension "d86" = 25.5
  dimension "d93" = 22
  dimension "d94" = 15
  dimension "d112" = 14
  dimension "d113" = 80.74
  dimension "d121" = 30
  dimension "d123" = 47.14
  dimension "d124" = 47.14
  dimension "d137" = 39.5
  dimension "d139" = 12.82
  dimension "d140" = 250
  dimension "d141" = 250
  dimension "d152" = 300
extrude "Extrude2" cut sketch "Sketch2" along normal through all and the other way through all contours L5 L6 A0 A1
extrude "Extrude3" cut sketch "Sketch2" along normal through all and the other way through all contours L14 A6 L15 A7 | L17 A8 L18 A9 | L30 A10 L31 A11 | L36 A14 L37 A15
extrude "Extrude4" cut sketch "Sketch2" against normal blind 4 contours L8 A2 L9 A3 | L11 A4 L12 A5 | L33 A12 L34 A13 | L39 A16 L40 A17
hole "Hole1" at (678.99, 9.6, 26.59) direction (0, -1, 0) diameter 3.4 end through all counterbore diameter 6.5 counterbore depth 3
hole "Hole2" at (678.99, 9.6, 36.59) direction (0, -1, 0) diameter 3.4 end through all counterbore diameter 6.5 counterbore depth 3
hole "Hole3" at (124, 9.6, 46) direction (0, -1, 0) diameter 5.3 end through all counterbore diameter 10.1 counterbore depth 5
hole "Hole4" at (124, 9.6, 64) direction (0, -1, 0) diameter 5.3 end through all counterbore diameter 10.1 counterbore depth 5
hole "Hole5" at (124, 9.6, 92) direction (0, -1, 0) diameter 5.3 end through all counterbore diameter 10.1 counterbore depth 5
pattern_linear "R-Pattern1" count 1 spacing 0 along (0, 0, -1) count 2 spacing 381 along (1, 0, 0) of "Hole3", "Hole4", "Hole5"
hole "Hole6" at (108.4571, 9.6, 8.9342) direction (0, -1, 0) diameter 3.4 end through all counterbore diameter 6.5 counterbore depth 3
pattern_linear "R-Pattern2" count 1 spacing 0 along (0, 0, 1) count 10 spacing 60 along (1, 0, 0) of "Hole6"
hole "Hole7" at (25.5, 9.6, 74) direction (0, -1, 0) diameter 2.5 end through all
hole "Hole8" at (25.5, 9.6, 87.18) direction (0, -1, 0) diameter 3 end through all
hole "Hole9" at (717, 9.6, 78) direction (0, -1, 0) diameter 2.5 end through all
pattern_linear "R-Pattern3" count 1 spacing 0 along (0, 0, -1) count 28 spacing 25 along (-1, 0, 0) of "Hole9"
hole "Hole11" at (124, 9.6, 78) direction (0, -1, 0) diameter 3.9 depth 10 tip angle 118
pattern_linear "R-Pattern4" count 1 spacing 0 along (0, 0, -1) count 2 spacing 381 along (1, 0, 0) of "Hole11"
hole "Hole12" at (80.74, 9.6, 86) direction (0, -1, 0) diameter 3.8 end through all
pattern_linear "R-Pattern5" count 1 spacing 0 along (0, 0, -1) count 2 spacing 623.5772 along (1, 0, 0) of "Hole12"
hole "Hole13" at (6.43, 9.6, 4.93) direction (0, -1, 0) diameter 3.3 end through all
hole "Hole14" at (53.57, 9.6, 4.93) direction (0, -1, 0) diameter 3.3 end through all
hole "Hole15" at (53.57, 9.6, 52.07) direction (0, -1, 0) diameter 3.3 end through all
hole "Hole16" at (6.43, 9.6, 52.07) direction (0, -1, 0) diameter 3.3 end through all
extrude "Extrude5" cut sketch "Sketch2" along normal through all and the other way through all contours A18
hole "Hole17" at (250, 9.6, 50) direction (0, -1, 0) diameter 12 end through all
hole "Hole19" at (482, 9.6, 50) direction (0, -1, 0) diameter 12 depth 10 tip angle 118
hole "Hole20" at (300, 9.6, 50) direction (0, -1, 0) diameter 12 depth 80 tip angle 118
